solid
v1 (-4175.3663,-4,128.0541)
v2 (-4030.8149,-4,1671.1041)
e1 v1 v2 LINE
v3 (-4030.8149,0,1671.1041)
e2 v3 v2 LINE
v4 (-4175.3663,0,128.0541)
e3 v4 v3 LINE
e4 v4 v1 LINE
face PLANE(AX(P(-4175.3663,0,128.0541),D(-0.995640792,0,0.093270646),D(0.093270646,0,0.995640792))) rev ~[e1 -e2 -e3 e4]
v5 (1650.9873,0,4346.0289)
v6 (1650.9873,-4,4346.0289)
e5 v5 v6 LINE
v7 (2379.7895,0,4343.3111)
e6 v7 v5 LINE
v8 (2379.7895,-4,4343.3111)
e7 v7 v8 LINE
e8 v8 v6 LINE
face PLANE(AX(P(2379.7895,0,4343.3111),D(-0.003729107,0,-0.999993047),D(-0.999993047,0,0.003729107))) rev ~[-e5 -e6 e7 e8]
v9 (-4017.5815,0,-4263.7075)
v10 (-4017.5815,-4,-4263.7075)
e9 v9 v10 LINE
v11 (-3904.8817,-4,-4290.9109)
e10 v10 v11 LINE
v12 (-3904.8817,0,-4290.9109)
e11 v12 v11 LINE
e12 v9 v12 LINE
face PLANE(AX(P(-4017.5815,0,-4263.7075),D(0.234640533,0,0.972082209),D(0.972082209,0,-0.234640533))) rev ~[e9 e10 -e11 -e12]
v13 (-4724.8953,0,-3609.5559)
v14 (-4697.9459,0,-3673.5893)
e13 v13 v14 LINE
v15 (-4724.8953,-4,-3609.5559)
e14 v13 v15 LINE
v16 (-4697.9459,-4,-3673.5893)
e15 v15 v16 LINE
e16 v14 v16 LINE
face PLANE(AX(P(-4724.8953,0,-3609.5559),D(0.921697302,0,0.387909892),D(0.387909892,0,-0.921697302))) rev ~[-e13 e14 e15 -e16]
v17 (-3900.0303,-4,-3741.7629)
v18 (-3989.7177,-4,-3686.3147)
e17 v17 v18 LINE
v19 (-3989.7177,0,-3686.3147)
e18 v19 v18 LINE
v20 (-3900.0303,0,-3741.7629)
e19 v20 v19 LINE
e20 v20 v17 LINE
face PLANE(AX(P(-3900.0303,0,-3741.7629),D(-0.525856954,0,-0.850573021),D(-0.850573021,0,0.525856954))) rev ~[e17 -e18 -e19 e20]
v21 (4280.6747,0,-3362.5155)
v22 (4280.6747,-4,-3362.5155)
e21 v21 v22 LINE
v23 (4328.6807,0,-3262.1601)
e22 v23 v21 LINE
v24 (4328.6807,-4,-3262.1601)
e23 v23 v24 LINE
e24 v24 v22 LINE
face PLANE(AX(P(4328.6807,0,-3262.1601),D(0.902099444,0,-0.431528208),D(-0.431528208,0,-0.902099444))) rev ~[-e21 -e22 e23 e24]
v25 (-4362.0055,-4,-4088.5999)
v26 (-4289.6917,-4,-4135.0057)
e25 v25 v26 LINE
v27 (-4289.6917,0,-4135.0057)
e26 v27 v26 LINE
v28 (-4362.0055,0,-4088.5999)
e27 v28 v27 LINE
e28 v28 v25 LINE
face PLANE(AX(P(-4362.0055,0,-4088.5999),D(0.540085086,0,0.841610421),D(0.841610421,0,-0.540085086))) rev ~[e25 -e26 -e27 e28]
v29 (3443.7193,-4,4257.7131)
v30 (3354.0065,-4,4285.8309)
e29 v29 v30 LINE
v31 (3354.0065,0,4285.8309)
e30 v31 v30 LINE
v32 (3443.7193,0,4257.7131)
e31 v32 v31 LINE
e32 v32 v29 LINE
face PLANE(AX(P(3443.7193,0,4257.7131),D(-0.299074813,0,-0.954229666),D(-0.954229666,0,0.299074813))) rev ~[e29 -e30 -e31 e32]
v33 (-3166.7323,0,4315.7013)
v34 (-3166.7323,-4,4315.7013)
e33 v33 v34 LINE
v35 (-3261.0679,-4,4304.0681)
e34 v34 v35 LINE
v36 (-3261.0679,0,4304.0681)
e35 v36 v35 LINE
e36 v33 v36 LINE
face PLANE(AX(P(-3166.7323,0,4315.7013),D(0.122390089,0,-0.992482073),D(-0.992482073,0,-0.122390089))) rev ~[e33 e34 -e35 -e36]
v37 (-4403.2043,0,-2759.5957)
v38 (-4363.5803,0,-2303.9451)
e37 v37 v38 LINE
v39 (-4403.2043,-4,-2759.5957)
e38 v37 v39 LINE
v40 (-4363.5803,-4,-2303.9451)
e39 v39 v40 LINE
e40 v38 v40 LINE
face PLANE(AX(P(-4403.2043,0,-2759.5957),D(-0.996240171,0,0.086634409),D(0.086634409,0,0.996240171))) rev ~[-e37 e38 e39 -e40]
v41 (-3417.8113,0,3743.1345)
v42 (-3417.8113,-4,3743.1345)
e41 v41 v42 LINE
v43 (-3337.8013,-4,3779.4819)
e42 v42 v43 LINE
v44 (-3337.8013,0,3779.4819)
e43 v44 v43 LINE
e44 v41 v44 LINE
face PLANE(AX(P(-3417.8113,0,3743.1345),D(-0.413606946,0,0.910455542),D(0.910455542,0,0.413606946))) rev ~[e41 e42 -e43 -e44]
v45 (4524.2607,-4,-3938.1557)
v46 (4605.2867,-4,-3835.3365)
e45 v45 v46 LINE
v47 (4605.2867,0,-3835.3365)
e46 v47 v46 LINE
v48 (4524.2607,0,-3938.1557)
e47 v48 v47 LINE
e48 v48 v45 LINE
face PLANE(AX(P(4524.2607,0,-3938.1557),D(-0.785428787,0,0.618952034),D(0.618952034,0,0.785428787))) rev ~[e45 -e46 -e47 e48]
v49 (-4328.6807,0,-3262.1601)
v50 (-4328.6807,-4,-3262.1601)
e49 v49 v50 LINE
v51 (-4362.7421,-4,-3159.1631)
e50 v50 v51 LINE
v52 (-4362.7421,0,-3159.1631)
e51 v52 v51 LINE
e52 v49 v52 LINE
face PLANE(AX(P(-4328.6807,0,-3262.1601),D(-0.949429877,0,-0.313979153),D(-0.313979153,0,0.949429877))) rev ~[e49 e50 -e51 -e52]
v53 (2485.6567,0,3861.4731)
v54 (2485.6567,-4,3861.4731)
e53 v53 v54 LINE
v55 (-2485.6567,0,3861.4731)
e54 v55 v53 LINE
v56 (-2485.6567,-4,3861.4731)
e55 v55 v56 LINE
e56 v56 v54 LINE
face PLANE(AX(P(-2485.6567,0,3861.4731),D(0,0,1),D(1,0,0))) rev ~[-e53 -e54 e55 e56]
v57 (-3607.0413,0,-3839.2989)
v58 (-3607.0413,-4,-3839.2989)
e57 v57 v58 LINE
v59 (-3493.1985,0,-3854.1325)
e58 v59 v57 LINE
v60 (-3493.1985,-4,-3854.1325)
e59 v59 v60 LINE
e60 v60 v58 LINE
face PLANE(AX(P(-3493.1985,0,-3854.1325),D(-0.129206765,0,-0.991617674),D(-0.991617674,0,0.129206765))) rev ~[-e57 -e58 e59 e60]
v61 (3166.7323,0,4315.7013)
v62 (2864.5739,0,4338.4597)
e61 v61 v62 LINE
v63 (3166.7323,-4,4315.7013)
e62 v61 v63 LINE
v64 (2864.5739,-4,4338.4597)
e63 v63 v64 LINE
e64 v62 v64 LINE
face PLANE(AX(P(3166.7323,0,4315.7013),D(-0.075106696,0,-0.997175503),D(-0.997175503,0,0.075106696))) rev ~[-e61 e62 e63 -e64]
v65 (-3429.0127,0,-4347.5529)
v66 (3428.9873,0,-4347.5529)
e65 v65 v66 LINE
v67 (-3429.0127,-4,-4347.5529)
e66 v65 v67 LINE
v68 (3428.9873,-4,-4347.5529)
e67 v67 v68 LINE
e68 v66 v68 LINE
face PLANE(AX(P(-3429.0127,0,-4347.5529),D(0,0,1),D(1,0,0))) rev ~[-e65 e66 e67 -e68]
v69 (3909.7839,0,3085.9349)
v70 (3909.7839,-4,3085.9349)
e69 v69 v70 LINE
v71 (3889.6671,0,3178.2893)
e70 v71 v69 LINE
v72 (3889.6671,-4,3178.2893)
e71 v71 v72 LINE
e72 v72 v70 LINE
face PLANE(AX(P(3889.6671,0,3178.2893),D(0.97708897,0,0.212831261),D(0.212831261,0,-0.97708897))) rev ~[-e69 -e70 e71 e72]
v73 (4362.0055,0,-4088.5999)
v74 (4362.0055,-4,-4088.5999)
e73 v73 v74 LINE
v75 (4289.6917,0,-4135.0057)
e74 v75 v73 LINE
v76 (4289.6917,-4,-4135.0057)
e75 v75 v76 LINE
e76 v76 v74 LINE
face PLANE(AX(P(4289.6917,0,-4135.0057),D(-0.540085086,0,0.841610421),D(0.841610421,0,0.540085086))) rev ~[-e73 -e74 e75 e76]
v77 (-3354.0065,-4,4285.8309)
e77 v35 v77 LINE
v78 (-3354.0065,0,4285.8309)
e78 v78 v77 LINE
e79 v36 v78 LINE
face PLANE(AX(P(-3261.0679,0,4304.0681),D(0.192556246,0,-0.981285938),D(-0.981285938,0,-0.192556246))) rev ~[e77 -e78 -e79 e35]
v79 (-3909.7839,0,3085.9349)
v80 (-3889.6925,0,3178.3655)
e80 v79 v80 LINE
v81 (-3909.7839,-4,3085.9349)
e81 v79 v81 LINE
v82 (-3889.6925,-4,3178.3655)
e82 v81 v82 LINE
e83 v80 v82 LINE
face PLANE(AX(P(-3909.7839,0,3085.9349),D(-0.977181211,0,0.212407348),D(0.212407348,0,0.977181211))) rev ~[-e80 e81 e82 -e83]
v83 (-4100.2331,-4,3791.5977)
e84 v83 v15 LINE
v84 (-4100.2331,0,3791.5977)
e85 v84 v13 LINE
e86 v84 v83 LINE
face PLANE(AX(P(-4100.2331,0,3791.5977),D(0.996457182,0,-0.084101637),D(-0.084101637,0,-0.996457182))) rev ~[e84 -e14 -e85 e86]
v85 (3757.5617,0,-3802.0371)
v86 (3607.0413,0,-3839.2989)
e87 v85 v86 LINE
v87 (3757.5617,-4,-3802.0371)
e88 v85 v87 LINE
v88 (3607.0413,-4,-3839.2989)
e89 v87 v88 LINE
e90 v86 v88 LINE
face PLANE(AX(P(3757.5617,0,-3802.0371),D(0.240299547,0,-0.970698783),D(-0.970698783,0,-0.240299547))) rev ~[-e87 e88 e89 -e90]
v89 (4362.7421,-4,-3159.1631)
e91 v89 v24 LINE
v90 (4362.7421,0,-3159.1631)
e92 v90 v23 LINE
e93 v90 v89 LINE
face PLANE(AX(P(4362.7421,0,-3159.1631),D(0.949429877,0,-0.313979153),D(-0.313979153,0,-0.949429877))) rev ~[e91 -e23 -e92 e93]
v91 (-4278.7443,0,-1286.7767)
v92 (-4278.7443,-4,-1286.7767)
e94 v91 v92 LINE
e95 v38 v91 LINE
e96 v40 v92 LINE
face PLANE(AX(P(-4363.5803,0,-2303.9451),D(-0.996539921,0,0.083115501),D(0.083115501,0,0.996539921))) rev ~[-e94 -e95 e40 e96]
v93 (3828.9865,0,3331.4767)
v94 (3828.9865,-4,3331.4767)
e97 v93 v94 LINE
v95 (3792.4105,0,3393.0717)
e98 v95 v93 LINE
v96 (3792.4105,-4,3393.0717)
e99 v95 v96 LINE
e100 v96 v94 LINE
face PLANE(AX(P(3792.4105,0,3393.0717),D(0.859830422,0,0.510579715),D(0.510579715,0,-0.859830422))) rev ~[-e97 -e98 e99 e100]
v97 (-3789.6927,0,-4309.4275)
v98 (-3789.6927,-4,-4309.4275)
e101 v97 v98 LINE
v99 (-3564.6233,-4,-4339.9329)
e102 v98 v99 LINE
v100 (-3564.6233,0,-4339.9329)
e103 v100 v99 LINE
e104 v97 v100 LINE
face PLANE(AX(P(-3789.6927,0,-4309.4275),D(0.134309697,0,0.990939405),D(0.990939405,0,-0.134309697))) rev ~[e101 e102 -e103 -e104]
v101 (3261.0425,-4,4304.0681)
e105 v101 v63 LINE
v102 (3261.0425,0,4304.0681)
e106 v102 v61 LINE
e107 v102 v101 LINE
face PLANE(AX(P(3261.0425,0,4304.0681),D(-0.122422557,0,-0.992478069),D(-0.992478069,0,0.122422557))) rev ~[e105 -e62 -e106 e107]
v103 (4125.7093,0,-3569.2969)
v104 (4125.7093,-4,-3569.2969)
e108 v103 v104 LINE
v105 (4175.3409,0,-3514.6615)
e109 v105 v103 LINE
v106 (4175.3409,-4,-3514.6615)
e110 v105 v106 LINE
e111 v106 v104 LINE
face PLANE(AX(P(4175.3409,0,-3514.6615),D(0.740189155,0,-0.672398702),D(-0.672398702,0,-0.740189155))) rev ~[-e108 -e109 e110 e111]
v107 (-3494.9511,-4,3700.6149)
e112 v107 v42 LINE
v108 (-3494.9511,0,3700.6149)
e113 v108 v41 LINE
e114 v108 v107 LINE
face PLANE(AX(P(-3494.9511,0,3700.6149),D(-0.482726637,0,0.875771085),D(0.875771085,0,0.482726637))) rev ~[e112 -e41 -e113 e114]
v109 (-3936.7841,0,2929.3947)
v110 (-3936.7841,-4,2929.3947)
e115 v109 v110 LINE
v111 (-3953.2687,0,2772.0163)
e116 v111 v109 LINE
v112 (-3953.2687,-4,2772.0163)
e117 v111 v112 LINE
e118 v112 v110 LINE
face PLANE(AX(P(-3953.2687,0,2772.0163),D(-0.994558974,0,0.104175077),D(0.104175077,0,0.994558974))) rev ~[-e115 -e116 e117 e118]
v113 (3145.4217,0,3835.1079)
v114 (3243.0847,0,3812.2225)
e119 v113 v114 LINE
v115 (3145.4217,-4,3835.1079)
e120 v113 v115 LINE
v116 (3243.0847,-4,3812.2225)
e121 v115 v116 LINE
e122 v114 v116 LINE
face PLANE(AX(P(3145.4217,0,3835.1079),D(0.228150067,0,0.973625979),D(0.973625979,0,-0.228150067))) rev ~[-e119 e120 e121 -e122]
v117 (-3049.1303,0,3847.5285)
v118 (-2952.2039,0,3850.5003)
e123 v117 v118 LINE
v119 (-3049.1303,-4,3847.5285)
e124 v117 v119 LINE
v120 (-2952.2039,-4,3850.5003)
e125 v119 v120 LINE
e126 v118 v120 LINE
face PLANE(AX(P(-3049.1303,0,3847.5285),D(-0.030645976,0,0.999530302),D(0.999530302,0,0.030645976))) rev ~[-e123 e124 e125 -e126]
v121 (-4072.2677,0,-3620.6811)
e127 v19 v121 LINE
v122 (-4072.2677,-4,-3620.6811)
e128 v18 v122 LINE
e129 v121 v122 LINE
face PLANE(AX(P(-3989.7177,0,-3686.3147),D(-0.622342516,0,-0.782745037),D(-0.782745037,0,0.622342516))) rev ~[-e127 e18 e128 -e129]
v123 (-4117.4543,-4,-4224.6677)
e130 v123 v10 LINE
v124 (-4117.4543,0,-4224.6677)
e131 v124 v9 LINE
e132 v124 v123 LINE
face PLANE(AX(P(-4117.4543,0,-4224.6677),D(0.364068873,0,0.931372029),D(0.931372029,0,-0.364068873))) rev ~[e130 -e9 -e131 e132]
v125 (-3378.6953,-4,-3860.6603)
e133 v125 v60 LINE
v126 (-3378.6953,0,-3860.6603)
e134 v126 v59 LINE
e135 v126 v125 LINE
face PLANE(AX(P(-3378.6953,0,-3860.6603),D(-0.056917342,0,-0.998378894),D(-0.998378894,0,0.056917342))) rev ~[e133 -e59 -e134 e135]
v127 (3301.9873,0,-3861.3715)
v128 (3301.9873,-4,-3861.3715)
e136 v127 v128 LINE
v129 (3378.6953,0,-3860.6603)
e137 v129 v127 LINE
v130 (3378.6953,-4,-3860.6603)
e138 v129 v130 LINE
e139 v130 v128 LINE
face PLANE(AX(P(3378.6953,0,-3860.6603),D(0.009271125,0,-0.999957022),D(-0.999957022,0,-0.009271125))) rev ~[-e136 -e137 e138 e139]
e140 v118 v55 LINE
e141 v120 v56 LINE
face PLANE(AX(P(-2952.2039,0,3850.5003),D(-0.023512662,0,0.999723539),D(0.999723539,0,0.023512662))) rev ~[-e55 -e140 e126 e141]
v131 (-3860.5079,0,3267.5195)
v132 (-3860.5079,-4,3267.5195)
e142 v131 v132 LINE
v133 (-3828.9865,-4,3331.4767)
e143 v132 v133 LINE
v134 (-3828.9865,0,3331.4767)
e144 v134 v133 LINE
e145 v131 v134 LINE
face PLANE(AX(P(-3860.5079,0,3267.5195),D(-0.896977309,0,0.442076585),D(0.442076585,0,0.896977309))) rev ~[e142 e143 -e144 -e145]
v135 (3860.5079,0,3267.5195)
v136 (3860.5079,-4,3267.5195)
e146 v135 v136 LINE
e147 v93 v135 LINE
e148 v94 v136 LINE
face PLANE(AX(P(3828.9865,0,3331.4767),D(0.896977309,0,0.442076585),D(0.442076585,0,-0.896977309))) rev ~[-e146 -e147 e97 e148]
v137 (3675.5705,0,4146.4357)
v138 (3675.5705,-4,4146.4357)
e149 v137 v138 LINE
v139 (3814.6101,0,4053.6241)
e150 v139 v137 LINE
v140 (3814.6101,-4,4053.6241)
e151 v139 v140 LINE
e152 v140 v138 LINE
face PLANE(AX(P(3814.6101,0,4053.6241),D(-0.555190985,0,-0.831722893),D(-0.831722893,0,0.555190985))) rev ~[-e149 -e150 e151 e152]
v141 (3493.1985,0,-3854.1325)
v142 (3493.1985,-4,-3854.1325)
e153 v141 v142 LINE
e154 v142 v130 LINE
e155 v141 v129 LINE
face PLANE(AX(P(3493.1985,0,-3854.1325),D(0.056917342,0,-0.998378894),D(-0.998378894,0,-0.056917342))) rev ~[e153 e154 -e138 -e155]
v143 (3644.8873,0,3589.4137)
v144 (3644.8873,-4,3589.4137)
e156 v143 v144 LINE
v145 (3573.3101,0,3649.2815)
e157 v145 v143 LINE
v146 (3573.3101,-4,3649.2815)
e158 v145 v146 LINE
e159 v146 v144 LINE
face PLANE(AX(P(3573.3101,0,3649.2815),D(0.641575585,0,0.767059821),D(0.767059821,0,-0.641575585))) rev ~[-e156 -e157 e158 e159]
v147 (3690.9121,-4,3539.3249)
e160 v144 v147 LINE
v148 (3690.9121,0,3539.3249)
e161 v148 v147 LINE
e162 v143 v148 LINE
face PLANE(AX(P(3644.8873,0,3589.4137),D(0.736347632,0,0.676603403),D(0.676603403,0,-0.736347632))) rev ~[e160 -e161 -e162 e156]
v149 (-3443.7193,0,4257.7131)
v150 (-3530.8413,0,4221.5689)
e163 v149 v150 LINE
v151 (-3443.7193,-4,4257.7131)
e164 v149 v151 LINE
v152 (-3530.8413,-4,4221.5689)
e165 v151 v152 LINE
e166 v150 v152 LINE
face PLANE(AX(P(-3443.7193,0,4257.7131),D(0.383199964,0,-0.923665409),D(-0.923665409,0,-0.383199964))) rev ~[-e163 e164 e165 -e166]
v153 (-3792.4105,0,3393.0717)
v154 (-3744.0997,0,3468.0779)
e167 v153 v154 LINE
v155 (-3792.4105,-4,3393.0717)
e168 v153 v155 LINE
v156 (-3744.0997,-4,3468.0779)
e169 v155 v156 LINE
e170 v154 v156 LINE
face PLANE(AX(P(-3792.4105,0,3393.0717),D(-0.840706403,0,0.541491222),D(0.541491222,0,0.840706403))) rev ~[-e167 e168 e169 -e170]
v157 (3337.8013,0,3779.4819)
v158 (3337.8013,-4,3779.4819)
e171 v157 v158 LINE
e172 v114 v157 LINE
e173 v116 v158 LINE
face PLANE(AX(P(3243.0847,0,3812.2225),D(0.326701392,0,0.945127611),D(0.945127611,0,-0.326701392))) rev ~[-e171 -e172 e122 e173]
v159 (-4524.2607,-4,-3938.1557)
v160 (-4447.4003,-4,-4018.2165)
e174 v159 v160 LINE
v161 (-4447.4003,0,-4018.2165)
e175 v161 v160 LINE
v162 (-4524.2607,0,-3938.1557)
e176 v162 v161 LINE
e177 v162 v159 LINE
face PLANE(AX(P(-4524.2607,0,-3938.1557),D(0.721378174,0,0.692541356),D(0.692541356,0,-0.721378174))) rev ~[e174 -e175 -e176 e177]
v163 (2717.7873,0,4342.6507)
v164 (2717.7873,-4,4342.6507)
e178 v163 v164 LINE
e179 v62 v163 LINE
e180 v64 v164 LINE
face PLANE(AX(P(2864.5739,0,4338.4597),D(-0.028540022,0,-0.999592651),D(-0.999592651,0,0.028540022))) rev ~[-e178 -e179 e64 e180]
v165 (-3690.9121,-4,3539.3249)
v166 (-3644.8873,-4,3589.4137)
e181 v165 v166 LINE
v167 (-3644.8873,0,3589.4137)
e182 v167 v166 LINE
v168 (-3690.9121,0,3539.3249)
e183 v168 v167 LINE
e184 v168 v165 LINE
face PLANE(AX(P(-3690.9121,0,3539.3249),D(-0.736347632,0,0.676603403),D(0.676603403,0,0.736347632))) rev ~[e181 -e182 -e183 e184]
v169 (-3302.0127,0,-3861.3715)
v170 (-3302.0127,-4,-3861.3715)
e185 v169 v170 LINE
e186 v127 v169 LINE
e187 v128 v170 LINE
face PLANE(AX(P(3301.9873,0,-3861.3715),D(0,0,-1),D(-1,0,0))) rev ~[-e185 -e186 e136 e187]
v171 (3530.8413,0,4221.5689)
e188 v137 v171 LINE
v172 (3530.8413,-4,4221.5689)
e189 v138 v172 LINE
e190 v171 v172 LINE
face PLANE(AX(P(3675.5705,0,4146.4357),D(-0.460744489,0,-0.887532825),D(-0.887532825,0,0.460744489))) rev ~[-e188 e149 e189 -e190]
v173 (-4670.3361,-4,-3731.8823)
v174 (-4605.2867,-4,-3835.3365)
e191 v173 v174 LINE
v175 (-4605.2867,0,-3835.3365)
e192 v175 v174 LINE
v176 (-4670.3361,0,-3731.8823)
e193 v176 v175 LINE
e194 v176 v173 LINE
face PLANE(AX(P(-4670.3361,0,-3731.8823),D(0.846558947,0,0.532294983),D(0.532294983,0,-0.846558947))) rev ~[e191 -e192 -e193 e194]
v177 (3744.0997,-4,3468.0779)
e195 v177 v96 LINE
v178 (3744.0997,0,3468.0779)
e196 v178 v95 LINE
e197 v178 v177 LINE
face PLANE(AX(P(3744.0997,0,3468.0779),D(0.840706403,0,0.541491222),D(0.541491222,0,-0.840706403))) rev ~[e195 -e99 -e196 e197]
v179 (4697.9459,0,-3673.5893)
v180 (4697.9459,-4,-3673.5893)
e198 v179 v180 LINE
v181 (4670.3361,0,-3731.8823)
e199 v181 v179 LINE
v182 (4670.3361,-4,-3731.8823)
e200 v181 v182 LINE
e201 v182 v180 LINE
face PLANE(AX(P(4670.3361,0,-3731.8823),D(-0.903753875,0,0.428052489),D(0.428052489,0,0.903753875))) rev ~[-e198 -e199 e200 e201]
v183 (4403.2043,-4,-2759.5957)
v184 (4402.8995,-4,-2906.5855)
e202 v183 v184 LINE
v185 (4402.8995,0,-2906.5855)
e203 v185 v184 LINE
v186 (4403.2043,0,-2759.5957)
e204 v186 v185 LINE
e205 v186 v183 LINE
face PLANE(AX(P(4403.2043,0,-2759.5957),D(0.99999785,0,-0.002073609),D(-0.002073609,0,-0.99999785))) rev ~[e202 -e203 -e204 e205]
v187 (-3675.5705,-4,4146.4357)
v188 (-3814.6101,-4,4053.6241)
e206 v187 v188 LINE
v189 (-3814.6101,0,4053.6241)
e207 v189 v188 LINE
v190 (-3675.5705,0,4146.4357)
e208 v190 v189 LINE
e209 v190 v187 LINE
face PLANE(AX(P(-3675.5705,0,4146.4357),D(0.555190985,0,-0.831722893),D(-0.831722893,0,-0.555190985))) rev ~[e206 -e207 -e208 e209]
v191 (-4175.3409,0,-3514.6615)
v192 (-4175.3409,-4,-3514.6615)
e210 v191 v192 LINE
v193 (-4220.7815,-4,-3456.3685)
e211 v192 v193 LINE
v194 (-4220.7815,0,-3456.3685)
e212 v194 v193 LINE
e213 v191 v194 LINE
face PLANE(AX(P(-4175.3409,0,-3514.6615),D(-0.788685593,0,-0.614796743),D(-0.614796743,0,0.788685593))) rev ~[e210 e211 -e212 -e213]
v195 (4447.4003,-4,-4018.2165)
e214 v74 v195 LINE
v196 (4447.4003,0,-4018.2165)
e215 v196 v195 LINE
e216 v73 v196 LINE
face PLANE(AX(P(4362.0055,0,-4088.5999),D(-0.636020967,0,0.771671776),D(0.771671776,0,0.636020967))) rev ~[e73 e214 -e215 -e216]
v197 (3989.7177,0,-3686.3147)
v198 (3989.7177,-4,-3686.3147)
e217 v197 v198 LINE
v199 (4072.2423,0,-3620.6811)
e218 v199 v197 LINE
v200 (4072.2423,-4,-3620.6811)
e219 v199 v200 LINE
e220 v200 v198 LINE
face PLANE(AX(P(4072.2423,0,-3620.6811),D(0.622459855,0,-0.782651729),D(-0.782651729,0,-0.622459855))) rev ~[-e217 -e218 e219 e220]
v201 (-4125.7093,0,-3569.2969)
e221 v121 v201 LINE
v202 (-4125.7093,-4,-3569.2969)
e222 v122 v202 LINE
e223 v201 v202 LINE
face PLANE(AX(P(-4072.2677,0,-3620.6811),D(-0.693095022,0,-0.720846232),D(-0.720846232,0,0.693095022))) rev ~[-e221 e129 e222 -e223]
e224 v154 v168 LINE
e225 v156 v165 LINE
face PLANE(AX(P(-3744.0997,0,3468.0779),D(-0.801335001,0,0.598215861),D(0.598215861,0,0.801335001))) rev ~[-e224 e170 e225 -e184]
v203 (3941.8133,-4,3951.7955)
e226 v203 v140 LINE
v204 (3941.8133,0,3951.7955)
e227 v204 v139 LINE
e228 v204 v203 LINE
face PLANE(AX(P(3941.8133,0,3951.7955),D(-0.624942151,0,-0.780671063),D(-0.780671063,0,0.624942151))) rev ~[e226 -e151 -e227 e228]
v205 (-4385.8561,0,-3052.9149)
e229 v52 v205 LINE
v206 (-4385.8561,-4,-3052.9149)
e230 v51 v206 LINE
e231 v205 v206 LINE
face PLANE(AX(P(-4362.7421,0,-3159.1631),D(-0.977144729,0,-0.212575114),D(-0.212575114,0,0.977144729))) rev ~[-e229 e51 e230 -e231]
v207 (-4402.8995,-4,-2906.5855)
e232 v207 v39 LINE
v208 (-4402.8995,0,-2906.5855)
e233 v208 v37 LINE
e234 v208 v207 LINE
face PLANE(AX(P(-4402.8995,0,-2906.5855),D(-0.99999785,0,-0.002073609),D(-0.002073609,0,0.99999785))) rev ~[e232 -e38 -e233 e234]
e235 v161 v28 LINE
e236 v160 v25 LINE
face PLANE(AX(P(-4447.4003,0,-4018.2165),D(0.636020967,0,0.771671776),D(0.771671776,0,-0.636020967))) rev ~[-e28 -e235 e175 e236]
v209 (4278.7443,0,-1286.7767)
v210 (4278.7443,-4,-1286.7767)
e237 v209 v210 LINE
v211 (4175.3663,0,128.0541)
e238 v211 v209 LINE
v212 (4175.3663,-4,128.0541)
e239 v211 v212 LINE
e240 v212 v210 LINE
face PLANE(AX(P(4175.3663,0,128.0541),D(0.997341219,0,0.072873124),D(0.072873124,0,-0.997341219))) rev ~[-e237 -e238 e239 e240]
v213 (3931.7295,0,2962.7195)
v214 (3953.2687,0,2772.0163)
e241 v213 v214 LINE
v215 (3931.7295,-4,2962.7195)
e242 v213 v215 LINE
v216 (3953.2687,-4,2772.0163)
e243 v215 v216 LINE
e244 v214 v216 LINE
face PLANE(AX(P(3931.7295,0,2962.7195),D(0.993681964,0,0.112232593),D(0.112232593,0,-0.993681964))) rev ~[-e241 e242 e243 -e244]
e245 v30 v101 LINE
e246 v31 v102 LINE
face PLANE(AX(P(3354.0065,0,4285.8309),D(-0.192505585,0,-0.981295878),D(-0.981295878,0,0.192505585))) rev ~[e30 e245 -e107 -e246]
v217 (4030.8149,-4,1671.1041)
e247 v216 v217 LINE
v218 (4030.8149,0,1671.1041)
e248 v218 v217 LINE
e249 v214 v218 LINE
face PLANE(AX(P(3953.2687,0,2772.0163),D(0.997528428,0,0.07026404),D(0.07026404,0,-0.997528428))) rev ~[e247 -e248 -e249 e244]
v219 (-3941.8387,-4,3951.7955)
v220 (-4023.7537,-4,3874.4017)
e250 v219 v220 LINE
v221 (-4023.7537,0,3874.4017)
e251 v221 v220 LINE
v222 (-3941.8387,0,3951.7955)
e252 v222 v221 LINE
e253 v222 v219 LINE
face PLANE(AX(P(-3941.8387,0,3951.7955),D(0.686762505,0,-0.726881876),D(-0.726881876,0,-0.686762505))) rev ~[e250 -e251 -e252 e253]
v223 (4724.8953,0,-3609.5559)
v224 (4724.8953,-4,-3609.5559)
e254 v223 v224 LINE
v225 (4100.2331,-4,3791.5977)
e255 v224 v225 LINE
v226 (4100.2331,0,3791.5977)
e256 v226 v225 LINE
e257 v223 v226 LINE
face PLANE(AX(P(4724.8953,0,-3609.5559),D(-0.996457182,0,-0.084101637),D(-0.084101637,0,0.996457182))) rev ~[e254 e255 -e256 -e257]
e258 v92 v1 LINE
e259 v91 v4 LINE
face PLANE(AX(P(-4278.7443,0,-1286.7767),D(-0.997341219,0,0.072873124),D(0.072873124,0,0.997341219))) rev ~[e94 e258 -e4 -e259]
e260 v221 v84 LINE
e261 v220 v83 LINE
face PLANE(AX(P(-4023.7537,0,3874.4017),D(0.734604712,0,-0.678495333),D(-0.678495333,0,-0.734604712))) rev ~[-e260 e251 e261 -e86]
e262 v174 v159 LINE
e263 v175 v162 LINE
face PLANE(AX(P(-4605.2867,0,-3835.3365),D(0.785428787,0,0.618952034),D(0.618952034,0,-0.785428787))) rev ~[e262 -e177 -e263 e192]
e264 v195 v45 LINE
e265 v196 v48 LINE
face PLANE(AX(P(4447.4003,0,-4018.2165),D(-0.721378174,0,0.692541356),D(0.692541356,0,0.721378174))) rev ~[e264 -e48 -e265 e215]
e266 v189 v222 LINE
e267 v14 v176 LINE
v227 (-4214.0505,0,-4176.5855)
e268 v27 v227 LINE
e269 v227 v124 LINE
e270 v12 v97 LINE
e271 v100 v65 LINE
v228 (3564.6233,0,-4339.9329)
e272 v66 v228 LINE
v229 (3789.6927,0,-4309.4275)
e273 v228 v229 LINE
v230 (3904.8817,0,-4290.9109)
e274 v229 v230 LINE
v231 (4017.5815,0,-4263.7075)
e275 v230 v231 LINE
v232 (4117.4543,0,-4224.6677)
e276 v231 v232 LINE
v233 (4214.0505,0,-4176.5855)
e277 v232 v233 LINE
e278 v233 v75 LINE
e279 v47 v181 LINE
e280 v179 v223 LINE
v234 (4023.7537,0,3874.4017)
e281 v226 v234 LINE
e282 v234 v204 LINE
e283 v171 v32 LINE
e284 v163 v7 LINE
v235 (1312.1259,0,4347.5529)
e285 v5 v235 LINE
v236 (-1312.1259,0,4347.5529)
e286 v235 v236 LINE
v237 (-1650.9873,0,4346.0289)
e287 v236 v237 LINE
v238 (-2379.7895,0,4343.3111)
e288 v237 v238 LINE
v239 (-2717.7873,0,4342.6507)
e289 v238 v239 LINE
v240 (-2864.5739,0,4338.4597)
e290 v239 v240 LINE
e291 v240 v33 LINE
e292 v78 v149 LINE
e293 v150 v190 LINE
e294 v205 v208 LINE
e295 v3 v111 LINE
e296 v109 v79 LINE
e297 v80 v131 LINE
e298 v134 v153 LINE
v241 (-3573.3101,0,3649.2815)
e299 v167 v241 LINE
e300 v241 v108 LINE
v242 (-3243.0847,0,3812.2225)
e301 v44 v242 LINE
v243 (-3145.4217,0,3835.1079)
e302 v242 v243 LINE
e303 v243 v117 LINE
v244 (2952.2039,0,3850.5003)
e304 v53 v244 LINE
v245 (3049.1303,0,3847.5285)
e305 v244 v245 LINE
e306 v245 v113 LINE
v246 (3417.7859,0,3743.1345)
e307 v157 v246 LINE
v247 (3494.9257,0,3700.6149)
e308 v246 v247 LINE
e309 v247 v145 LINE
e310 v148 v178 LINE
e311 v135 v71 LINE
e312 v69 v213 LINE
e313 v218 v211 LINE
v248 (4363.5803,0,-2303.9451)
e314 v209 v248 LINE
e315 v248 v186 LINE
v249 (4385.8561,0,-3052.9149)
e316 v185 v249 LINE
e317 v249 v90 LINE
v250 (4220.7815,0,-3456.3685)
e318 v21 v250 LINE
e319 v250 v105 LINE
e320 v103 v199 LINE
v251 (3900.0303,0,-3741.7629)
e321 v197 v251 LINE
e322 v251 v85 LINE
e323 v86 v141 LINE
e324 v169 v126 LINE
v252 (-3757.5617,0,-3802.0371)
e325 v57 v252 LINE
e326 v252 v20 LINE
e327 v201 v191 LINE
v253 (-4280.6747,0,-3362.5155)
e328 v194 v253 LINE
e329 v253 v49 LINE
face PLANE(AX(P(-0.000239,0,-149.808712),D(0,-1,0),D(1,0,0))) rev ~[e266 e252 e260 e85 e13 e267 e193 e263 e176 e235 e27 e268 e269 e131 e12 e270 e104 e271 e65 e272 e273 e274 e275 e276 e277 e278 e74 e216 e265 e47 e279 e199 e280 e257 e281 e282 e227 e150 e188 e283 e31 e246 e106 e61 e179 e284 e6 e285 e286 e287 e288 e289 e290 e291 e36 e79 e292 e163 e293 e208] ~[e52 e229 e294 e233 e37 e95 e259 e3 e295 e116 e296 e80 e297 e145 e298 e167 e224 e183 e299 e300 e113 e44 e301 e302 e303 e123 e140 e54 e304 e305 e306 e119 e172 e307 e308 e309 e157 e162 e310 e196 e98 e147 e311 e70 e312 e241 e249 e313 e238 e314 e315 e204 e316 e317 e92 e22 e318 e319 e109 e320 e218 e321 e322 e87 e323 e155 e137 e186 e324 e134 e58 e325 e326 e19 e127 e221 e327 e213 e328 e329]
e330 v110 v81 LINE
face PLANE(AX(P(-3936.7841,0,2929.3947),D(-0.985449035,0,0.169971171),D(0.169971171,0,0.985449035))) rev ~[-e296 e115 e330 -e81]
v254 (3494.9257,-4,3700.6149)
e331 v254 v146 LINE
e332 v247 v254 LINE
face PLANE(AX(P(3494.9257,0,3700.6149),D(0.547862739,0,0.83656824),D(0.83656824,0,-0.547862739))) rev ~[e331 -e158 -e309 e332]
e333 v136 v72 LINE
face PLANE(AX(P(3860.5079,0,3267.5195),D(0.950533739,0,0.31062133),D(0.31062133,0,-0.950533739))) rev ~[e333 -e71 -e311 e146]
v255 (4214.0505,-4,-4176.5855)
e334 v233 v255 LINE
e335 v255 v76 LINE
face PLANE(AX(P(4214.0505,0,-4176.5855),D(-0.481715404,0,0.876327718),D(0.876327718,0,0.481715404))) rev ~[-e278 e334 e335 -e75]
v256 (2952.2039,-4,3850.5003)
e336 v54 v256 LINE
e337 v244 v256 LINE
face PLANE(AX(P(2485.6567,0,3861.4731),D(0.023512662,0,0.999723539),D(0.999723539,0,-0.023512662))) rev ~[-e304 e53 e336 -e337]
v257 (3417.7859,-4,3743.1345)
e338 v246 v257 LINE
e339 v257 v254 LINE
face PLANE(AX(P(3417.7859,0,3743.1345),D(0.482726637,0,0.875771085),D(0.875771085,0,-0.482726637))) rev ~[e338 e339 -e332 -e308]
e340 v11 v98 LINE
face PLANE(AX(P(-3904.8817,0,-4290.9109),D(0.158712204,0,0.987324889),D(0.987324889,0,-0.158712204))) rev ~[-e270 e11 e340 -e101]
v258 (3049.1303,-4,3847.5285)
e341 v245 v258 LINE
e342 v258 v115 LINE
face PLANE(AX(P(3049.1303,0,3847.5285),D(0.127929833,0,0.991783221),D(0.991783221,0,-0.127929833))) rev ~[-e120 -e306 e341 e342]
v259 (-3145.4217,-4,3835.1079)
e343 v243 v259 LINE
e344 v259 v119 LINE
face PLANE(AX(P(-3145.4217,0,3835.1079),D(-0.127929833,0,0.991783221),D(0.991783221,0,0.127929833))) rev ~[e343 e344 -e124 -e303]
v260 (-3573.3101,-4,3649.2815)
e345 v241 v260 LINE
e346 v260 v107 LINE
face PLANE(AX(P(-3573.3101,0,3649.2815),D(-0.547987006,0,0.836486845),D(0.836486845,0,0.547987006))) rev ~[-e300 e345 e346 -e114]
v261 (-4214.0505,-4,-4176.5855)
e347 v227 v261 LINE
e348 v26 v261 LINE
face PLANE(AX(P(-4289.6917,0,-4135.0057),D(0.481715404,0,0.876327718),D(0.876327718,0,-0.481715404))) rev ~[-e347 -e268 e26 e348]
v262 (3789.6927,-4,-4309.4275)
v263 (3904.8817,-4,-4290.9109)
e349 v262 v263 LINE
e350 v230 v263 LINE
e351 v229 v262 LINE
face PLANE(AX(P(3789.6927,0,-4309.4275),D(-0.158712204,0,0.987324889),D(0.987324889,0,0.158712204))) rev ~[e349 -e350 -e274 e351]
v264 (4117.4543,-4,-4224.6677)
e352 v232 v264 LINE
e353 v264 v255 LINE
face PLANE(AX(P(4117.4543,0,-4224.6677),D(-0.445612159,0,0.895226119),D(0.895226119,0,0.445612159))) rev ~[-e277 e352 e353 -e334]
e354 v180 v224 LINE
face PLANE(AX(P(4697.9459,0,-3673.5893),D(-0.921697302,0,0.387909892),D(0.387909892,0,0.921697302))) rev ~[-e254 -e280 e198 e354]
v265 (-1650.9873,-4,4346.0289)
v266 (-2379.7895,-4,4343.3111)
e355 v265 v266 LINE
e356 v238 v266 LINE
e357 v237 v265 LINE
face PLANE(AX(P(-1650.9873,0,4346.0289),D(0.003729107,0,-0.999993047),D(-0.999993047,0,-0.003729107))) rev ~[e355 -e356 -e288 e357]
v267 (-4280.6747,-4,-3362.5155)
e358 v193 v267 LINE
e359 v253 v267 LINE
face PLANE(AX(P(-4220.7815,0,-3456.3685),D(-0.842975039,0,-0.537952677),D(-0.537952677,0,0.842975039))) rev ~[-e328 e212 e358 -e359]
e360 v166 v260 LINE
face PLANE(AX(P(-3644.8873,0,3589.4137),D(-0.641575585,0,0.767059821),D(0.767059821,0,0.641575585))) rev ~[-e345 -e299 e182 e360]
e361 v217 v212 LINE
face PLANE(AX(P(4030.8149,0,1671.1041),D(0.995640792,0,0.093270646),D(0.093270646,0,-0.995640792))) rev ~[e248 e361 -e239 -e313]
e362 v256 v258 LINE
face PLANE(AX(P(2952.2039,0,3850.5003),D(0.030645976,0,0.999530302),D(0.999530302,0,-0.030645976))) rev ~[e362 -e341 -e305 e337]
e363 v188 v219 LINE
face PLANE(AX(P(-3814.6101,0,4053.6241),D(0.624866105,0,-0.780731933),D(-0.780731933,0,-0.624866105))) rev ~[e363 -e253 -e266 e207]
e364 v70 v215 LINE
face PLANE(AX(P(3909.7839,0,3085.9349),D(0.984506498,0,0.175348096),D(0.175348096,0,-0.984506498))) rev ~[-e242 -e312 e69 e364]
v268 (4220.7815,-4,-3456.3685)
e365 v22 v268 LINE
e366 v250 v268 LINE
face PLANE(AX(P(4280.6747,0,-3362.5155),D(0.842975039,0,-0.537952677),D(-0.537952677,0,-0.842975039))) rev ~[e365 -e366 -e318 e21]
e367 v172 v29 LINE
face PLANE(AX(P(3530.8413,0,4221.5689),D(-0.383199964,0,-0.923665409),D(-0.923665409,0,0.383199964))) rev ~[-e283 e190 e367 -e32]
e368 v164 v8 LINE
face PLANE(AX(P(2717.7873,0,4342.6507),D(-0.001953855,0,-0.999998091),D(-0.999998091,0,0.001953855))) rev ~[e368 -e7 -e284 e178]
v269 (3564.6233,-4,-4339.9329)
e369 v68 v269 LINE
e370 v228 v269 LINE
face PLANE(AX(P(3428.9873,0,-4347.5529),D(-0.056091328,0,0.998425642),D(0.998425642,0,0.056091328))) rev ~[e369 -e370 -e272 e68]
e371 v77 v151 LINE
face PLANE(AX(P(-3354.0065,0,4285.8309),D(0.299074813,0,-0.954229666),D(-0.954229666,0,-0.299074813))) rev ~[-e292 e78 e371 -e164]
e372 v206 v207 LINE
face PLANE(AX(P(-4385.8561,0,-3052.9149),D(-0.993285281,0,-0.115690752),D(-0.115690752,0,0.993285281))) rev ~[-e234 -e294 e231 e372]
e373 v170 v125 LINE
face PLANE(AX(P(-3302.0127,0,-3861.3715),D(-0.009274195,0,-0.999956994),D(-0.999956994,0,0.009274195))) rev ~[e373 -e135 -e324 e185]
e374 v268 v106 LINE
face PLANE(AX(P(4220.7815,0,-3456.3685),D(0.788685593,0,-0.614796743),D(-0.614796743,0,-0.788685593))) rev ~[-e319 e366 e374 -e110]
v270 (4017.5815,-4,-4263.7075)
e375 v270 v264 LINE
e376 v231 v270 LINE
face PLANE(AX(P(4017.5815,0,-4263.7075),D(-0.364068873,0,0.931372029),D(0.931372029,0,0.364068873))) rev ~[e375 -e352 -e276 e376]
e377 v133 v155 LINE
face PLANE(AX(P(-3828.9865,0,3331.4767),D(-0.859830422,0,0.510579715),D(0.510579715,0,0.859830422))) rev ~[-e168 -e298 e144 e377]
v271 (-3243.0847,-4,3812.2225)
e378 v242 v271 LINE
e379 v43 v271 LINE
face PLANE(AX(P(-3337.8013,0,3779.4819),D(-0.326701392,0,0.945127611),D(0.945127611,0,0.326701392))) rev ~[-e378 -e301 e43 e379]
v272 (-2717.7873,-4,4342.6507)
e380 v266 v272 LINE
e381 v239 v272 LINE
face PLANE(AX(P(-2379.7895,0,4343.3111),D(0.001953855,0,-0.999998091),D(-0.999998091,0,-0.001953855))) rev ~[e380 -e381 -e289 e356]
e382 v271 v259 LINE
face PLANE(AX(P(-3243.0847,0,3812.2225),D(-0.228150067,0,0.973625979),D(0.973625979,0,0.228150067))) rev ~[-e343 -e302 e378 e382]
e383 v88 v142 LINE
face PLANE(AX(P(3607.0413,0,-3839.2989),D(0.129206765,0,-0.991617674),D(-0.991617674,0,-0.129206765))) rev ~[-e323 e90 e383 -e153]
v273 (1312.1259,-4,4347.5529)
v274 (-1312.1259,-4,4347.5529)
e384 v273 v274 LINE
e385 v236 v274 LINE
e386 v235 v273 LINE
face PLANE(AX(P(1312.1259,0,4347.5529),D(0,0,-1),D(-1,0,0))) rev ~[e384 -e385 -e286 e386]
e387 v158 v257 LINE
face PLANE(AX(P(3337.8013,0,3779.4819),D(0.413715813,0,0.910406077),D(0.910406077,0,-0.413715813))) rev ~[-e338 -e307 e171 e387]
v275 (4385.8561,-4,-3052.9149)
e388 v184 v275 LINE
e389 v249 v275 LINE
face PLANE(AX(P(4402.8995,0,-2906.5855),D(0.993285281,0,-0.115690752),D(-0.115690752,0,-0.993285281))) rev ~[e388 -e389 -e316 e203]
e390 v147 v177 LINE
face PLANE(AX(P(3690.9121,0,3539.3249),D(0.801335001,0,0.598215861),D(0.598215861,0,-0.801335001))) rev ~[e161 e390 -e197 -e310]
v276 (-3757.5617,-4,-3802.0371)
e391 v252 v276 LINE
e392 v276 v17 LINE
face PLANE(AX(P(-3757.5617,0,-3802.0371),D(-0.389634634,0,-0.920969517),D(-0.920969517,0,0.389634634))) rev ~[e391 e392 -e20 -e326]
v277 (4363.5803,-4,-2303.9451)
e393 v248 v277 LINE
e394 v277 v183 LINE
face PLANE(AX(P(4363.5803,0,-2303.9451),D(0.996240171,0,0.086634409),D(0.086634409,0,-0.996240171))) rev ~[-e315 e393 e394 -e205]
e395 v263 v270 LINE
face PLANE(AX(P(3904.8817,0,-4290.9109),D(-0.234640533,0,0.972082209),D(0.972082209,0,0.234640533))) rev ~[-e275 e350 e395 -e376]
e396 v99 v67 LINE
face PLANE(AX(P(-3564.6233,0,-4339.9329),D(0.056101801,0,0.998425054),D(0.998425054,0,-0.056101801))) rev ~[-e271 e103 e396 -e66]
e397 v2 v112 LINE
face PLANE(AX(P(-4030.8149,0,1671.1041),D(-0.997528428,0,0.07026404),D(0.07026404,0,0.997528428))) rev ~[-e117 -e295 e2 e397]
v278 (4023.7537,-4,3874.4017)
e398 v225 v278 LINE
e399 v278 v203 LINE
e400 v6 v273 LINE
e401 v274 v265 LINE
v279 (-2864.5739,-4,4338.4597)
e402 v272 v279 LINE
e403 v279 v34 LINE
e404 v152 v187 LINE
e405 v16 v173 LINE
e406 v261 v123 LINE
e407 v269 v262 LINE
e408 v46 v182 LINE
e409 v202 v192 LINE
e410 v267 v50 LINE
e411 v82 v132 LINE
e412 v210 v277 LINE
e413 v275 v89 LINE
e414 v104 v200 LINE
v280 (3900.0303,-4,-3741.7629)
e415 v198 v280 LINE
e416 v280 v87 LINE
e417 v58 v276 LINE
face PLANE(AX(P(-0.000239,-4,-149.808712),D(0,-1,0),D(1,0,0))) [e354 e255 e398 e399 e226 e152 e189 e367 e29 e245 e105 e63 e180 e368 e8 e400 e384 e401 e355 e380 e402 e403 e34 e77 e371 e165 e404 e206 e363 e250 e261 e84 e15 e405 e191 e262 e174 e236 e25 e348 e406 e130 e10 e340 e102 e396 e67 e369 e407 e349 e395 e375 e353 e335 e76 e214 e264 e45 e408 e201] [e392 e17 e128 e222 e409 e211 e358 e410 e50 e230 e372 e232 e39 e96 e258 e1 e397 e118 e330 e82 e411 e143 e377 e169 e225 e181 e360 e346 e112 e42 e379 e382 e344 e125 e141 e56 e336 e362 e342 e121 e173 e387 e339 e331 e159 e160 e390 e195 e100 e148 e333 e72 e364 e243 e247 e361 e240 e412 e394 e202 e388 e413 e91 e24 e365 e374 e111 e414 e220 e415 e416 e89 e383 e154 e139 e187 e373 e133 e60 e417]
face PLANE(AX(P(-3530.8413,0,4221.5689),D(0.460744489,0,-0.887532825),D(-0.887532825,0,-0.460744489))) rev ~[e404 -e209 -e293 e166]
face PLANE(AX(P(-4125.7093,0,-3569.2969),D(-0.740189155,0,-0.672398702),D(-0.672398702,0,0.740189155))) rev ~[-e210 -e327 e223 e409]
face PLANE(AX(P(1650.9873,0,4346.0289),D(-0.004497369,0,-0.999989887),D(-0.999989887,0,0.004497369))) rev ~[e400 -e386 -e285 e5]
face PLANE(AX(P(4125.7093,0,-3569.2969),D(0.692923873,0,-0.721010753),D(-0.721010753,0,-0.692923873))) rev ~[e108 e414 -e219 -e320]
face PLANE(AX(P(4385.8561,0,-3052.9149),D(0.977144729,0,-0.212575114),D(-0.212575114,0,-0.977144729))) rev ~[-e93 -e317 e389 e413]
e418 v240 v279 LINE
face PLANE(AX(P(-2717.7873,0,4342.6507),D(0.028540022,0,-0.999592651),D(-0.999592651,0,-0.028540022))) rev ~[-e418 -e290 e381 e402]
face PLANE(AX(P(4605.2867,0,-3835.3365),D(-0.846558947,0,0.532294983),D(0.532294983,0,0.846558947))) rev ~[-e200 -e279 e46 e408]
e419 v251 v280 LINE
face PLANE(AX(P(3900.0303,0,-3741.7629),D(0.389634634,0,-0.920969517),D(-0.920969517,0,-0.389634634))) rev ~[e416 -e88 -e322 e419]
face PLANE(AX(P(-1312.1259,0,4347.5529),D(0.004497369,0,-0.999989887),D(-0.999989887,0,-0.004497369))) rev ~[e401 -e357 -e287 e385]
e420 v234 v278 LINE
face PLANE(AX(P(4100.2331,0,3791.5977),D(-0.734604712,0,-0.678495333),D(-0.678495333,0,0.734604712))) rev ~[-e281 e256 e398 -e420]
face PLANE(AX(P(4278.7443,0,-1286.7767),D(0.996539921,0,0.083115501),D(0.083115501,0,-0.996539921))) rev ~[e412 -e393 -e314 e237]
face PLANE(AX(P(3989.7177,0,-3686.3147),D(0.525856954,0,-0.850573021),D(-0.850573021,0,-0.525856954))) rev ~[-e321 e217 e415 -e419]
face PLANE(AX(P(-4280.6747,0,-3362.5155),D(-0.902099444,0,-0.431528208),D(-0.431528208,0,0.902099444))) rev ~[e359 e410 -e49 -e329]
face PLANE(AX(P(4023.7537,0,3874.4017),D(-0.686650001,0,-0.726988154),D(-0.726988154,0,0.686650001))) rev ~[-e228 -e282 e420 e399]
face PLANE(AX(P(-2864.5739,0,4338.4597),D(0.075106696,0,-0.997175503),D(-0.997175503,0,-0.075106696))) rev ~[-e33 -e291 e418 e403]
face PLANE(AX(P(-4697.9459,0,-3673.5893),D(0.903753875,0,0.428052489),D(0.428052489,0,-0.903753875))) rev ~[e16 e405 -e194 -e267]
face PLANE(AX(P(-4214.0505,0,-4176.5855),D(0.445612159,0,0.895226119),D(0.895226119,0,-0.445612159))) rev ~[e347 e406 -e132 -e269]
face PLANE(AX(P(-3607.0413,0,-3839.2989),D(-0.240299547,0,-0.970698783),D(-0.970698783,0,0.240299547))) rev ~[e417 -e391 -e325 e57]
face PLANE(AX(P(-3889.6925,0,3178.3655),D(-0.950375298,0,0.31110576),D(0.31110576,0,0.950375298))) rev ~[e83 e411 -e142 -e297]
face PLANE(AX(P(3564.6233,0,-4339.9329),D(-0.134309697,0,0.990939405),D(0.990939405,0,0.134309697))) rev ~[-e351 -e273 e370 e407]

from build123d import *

# Parameters (mm, degrees)
F1_DEPTH = 4


with BuildPart() as f1:
    # F0 (on Front) → F1 (new body)
    with BuildSketch(Plane.XZ):
        Polygon((-4023.7537, 3874.4017), (-4100.2331, 3791.5977), (-4724.8953, -3609.5559), (-4697.9459, -3673.5893), (-4670.3361, -3731.8823), (-4605.2867, -3835.3365), (-4524.2607, -3938.1557), (-4447.4003, -4018.2165), (-4362.0055, -4088.5999), (-4289.6917, -4135.0057), (-4214.0505, -4176.5855), (-4117.4543, -4224.6677), (-4017.5815, -4263.7075), (-3904.8817, -4290.9109), (-3789.6927, -4309.4275), (-3564.6233, -4339.9329), (-3429.0127, -4347.5529), (-3169.8565, -4347.5529), (-2286.0127, -4347.5529), (-2195.9189, -4347.5529), (-1143.0127, -4347.5529), (-1138.3137, -4347.5529), (-0.0127, -4347.5529), (1138.3137, -4347.5529), (1142.9873, -4347.5529), (2195.9189, -4347.5529), (2285.9873, -4347.5529), (3169.8565, -4347.5529), (3428.9873, -4347.5529), (3564.6233, -4339.9329), (3789.6927, -4309.4275), (3904.8817, -4290.9109), (4017.5815, -4263.7075), (4117.4543, -4224.6677), (4214.0505, -4176.5855), (4289.6917, -4135.0057), (4362.0055, -4088.5999), (4447.4003, -4018.2165), (4524.2607, -3938.1557), (4605.2867, -3835.3365), (4670.3361, -3731.8823), (4697.9459, -3673.5893), (4724.8953, -3609.5559), (4100.2331, 3791.5977), (4023.7537, 3874.4017), (3941.8133, 3951.7955), (3814.6101, 4053.6241), (3675.5705, 4146.4357), (3530.8413, 4221.5689), (3443.7193, 4257.7131), (3354.0065, 4285.8309), (3261.0425, 4304.0681), (3166.7323, 4315.7013), (2864.5739, 4338.4597), (2717.7873, 4342.6507), (2379.7895, 4343.3111), (1650.9873, 4346.0289), (1312.1259, 4347.5529), (176.9999, 4347.5529), (-0.0127, 4347.5529), (-177.0253, 4347.5529), (-1312.1259, 4347.5529), (-1650.9873, 4346.0289), (-2379.7895, 4343.3111), (-2717.7873, 4342.6507), (-2864.5739, 4338.4597), (-3166.7323, 4315.7013), (-3261.0679, 4304.0681), (-3354.0065, 4285.8309), (-3443.7193, 4257.7131), (-3530.8413, 4221.5689), (-3675.5705, 4146.4357), (-3814.6101, 4053.6241), (-3941.8387, 3951.7955), align=None)
        Polygon((-0.0127, 3861.4731), (1492.5675, 3861.4731), (2485.6567, 3861.4731), (2952.2039, 3850.5003), (3049.1303, 3847.5285), (3145.4217, 3835.1079), (3243.0847, 3812.2225), (3337.8013, 3779.4819), (3417.7859, 3743.1345), (3494.9257, 3700.6149), (3573.3101, 3649.2815), (3644.8873, 3589.4137), (3690.9121, 3539.3249), (3744.0997, 3468.0779), (3792.4105, 3393.0717), (3828.9865, 3331.4767), (3860.5079, 3267.5195), (3889.6671, 3178.2893), (3909.7839, 3085.9349), (3931.7295, 2962.7195), (3953.2687, 2772.0163), (4030.8149, 1671.1041), (4175.3663, 128.0541), (4278.7443, -1286.7767), (4363.5803, -2303.9451), (4403.2043, -2759.5957), (4402.8995, -2906.5855), (4385.8561, -3052.9149), (4362.7421, -3159.1631), (4328.6807, -3262.1601), (4280.6747, -3362.5155), (4220.7815, -3456.3685), (4175.3409, -3514.6615), (4125.7093, -3569.2969), (4072.2423, -3620.6811), (3989.7177, -3686.3147), (3900.0303, -3741.7629), (3757.5617, -3802.0371), (3607.0413, -3839.2989), (3493.1985, -3854.1325), (3378.6953, -3860.6603), (3301.9873, -3861.3715), (2285.9873, -3861.3715), (761.9873, -3861.3715), (-0.0127, -3861.3715), (-762.0127, -3861.3715), (-2286.0127, -3861.3715), (-3302.0127, -3861.3715), (-3378.6953, -3860.6603), (-3493.1985, -3854.1325), (-3607.0413, -3839.2989), (-3757.5617, -3802.0371), (-3900.0303, -3741.7629), (-3989.7177, -3686.3147), (-4072.2677, -3620.6811), (-4125.7093, -3569.2969), (-4175.3409, -3514.6615), (-4220.7815, -3456.3685), (-4280.6747, -3362.5155), (-4328.6807, -3262.1601), (-4362.7421, -3159.1631), (-4385.8561, -3052.9149), (-4402.8995, -2906.5855), (-4403.2043, -2759.5957), (-4363.5803, -2303.9451), (-4278.7443, -1286.7767), (-4175.3663, 128.0541), (-4030.8149, 1671.1041), (-3953.2687, 2772.0163), (-3936.7841, 2929.3947), (-3909.7839, 3085.9349), (-3889.6925, 3178.3655), (-3860.5079, 3267.5195), (-3828.9865, 3331.4767), (-3792.4105, 3393.0717), (-3744.0997, 3468.0779), (-3690.9121, 3539.3249), (-3644.8873, 3589.4137), (-3573.3101, 3649.2815), (-3494.9511, 3700.6149), (-3417.8113, 3743.1345), (-3337.8013, 3779.4819), (-3243.0847, 3812.2225), (-3145.4217, 3835.1079), (-3049.1303, 3847.5285), (-2952.2039, 3850.5003), (-2485.6567, 3861.4731), (-1492.5929, 3861.4731), align=None, mode=Mode.SUBTRACT)
    extrude(amount=F1_DEPTH)


solid = f1.part
